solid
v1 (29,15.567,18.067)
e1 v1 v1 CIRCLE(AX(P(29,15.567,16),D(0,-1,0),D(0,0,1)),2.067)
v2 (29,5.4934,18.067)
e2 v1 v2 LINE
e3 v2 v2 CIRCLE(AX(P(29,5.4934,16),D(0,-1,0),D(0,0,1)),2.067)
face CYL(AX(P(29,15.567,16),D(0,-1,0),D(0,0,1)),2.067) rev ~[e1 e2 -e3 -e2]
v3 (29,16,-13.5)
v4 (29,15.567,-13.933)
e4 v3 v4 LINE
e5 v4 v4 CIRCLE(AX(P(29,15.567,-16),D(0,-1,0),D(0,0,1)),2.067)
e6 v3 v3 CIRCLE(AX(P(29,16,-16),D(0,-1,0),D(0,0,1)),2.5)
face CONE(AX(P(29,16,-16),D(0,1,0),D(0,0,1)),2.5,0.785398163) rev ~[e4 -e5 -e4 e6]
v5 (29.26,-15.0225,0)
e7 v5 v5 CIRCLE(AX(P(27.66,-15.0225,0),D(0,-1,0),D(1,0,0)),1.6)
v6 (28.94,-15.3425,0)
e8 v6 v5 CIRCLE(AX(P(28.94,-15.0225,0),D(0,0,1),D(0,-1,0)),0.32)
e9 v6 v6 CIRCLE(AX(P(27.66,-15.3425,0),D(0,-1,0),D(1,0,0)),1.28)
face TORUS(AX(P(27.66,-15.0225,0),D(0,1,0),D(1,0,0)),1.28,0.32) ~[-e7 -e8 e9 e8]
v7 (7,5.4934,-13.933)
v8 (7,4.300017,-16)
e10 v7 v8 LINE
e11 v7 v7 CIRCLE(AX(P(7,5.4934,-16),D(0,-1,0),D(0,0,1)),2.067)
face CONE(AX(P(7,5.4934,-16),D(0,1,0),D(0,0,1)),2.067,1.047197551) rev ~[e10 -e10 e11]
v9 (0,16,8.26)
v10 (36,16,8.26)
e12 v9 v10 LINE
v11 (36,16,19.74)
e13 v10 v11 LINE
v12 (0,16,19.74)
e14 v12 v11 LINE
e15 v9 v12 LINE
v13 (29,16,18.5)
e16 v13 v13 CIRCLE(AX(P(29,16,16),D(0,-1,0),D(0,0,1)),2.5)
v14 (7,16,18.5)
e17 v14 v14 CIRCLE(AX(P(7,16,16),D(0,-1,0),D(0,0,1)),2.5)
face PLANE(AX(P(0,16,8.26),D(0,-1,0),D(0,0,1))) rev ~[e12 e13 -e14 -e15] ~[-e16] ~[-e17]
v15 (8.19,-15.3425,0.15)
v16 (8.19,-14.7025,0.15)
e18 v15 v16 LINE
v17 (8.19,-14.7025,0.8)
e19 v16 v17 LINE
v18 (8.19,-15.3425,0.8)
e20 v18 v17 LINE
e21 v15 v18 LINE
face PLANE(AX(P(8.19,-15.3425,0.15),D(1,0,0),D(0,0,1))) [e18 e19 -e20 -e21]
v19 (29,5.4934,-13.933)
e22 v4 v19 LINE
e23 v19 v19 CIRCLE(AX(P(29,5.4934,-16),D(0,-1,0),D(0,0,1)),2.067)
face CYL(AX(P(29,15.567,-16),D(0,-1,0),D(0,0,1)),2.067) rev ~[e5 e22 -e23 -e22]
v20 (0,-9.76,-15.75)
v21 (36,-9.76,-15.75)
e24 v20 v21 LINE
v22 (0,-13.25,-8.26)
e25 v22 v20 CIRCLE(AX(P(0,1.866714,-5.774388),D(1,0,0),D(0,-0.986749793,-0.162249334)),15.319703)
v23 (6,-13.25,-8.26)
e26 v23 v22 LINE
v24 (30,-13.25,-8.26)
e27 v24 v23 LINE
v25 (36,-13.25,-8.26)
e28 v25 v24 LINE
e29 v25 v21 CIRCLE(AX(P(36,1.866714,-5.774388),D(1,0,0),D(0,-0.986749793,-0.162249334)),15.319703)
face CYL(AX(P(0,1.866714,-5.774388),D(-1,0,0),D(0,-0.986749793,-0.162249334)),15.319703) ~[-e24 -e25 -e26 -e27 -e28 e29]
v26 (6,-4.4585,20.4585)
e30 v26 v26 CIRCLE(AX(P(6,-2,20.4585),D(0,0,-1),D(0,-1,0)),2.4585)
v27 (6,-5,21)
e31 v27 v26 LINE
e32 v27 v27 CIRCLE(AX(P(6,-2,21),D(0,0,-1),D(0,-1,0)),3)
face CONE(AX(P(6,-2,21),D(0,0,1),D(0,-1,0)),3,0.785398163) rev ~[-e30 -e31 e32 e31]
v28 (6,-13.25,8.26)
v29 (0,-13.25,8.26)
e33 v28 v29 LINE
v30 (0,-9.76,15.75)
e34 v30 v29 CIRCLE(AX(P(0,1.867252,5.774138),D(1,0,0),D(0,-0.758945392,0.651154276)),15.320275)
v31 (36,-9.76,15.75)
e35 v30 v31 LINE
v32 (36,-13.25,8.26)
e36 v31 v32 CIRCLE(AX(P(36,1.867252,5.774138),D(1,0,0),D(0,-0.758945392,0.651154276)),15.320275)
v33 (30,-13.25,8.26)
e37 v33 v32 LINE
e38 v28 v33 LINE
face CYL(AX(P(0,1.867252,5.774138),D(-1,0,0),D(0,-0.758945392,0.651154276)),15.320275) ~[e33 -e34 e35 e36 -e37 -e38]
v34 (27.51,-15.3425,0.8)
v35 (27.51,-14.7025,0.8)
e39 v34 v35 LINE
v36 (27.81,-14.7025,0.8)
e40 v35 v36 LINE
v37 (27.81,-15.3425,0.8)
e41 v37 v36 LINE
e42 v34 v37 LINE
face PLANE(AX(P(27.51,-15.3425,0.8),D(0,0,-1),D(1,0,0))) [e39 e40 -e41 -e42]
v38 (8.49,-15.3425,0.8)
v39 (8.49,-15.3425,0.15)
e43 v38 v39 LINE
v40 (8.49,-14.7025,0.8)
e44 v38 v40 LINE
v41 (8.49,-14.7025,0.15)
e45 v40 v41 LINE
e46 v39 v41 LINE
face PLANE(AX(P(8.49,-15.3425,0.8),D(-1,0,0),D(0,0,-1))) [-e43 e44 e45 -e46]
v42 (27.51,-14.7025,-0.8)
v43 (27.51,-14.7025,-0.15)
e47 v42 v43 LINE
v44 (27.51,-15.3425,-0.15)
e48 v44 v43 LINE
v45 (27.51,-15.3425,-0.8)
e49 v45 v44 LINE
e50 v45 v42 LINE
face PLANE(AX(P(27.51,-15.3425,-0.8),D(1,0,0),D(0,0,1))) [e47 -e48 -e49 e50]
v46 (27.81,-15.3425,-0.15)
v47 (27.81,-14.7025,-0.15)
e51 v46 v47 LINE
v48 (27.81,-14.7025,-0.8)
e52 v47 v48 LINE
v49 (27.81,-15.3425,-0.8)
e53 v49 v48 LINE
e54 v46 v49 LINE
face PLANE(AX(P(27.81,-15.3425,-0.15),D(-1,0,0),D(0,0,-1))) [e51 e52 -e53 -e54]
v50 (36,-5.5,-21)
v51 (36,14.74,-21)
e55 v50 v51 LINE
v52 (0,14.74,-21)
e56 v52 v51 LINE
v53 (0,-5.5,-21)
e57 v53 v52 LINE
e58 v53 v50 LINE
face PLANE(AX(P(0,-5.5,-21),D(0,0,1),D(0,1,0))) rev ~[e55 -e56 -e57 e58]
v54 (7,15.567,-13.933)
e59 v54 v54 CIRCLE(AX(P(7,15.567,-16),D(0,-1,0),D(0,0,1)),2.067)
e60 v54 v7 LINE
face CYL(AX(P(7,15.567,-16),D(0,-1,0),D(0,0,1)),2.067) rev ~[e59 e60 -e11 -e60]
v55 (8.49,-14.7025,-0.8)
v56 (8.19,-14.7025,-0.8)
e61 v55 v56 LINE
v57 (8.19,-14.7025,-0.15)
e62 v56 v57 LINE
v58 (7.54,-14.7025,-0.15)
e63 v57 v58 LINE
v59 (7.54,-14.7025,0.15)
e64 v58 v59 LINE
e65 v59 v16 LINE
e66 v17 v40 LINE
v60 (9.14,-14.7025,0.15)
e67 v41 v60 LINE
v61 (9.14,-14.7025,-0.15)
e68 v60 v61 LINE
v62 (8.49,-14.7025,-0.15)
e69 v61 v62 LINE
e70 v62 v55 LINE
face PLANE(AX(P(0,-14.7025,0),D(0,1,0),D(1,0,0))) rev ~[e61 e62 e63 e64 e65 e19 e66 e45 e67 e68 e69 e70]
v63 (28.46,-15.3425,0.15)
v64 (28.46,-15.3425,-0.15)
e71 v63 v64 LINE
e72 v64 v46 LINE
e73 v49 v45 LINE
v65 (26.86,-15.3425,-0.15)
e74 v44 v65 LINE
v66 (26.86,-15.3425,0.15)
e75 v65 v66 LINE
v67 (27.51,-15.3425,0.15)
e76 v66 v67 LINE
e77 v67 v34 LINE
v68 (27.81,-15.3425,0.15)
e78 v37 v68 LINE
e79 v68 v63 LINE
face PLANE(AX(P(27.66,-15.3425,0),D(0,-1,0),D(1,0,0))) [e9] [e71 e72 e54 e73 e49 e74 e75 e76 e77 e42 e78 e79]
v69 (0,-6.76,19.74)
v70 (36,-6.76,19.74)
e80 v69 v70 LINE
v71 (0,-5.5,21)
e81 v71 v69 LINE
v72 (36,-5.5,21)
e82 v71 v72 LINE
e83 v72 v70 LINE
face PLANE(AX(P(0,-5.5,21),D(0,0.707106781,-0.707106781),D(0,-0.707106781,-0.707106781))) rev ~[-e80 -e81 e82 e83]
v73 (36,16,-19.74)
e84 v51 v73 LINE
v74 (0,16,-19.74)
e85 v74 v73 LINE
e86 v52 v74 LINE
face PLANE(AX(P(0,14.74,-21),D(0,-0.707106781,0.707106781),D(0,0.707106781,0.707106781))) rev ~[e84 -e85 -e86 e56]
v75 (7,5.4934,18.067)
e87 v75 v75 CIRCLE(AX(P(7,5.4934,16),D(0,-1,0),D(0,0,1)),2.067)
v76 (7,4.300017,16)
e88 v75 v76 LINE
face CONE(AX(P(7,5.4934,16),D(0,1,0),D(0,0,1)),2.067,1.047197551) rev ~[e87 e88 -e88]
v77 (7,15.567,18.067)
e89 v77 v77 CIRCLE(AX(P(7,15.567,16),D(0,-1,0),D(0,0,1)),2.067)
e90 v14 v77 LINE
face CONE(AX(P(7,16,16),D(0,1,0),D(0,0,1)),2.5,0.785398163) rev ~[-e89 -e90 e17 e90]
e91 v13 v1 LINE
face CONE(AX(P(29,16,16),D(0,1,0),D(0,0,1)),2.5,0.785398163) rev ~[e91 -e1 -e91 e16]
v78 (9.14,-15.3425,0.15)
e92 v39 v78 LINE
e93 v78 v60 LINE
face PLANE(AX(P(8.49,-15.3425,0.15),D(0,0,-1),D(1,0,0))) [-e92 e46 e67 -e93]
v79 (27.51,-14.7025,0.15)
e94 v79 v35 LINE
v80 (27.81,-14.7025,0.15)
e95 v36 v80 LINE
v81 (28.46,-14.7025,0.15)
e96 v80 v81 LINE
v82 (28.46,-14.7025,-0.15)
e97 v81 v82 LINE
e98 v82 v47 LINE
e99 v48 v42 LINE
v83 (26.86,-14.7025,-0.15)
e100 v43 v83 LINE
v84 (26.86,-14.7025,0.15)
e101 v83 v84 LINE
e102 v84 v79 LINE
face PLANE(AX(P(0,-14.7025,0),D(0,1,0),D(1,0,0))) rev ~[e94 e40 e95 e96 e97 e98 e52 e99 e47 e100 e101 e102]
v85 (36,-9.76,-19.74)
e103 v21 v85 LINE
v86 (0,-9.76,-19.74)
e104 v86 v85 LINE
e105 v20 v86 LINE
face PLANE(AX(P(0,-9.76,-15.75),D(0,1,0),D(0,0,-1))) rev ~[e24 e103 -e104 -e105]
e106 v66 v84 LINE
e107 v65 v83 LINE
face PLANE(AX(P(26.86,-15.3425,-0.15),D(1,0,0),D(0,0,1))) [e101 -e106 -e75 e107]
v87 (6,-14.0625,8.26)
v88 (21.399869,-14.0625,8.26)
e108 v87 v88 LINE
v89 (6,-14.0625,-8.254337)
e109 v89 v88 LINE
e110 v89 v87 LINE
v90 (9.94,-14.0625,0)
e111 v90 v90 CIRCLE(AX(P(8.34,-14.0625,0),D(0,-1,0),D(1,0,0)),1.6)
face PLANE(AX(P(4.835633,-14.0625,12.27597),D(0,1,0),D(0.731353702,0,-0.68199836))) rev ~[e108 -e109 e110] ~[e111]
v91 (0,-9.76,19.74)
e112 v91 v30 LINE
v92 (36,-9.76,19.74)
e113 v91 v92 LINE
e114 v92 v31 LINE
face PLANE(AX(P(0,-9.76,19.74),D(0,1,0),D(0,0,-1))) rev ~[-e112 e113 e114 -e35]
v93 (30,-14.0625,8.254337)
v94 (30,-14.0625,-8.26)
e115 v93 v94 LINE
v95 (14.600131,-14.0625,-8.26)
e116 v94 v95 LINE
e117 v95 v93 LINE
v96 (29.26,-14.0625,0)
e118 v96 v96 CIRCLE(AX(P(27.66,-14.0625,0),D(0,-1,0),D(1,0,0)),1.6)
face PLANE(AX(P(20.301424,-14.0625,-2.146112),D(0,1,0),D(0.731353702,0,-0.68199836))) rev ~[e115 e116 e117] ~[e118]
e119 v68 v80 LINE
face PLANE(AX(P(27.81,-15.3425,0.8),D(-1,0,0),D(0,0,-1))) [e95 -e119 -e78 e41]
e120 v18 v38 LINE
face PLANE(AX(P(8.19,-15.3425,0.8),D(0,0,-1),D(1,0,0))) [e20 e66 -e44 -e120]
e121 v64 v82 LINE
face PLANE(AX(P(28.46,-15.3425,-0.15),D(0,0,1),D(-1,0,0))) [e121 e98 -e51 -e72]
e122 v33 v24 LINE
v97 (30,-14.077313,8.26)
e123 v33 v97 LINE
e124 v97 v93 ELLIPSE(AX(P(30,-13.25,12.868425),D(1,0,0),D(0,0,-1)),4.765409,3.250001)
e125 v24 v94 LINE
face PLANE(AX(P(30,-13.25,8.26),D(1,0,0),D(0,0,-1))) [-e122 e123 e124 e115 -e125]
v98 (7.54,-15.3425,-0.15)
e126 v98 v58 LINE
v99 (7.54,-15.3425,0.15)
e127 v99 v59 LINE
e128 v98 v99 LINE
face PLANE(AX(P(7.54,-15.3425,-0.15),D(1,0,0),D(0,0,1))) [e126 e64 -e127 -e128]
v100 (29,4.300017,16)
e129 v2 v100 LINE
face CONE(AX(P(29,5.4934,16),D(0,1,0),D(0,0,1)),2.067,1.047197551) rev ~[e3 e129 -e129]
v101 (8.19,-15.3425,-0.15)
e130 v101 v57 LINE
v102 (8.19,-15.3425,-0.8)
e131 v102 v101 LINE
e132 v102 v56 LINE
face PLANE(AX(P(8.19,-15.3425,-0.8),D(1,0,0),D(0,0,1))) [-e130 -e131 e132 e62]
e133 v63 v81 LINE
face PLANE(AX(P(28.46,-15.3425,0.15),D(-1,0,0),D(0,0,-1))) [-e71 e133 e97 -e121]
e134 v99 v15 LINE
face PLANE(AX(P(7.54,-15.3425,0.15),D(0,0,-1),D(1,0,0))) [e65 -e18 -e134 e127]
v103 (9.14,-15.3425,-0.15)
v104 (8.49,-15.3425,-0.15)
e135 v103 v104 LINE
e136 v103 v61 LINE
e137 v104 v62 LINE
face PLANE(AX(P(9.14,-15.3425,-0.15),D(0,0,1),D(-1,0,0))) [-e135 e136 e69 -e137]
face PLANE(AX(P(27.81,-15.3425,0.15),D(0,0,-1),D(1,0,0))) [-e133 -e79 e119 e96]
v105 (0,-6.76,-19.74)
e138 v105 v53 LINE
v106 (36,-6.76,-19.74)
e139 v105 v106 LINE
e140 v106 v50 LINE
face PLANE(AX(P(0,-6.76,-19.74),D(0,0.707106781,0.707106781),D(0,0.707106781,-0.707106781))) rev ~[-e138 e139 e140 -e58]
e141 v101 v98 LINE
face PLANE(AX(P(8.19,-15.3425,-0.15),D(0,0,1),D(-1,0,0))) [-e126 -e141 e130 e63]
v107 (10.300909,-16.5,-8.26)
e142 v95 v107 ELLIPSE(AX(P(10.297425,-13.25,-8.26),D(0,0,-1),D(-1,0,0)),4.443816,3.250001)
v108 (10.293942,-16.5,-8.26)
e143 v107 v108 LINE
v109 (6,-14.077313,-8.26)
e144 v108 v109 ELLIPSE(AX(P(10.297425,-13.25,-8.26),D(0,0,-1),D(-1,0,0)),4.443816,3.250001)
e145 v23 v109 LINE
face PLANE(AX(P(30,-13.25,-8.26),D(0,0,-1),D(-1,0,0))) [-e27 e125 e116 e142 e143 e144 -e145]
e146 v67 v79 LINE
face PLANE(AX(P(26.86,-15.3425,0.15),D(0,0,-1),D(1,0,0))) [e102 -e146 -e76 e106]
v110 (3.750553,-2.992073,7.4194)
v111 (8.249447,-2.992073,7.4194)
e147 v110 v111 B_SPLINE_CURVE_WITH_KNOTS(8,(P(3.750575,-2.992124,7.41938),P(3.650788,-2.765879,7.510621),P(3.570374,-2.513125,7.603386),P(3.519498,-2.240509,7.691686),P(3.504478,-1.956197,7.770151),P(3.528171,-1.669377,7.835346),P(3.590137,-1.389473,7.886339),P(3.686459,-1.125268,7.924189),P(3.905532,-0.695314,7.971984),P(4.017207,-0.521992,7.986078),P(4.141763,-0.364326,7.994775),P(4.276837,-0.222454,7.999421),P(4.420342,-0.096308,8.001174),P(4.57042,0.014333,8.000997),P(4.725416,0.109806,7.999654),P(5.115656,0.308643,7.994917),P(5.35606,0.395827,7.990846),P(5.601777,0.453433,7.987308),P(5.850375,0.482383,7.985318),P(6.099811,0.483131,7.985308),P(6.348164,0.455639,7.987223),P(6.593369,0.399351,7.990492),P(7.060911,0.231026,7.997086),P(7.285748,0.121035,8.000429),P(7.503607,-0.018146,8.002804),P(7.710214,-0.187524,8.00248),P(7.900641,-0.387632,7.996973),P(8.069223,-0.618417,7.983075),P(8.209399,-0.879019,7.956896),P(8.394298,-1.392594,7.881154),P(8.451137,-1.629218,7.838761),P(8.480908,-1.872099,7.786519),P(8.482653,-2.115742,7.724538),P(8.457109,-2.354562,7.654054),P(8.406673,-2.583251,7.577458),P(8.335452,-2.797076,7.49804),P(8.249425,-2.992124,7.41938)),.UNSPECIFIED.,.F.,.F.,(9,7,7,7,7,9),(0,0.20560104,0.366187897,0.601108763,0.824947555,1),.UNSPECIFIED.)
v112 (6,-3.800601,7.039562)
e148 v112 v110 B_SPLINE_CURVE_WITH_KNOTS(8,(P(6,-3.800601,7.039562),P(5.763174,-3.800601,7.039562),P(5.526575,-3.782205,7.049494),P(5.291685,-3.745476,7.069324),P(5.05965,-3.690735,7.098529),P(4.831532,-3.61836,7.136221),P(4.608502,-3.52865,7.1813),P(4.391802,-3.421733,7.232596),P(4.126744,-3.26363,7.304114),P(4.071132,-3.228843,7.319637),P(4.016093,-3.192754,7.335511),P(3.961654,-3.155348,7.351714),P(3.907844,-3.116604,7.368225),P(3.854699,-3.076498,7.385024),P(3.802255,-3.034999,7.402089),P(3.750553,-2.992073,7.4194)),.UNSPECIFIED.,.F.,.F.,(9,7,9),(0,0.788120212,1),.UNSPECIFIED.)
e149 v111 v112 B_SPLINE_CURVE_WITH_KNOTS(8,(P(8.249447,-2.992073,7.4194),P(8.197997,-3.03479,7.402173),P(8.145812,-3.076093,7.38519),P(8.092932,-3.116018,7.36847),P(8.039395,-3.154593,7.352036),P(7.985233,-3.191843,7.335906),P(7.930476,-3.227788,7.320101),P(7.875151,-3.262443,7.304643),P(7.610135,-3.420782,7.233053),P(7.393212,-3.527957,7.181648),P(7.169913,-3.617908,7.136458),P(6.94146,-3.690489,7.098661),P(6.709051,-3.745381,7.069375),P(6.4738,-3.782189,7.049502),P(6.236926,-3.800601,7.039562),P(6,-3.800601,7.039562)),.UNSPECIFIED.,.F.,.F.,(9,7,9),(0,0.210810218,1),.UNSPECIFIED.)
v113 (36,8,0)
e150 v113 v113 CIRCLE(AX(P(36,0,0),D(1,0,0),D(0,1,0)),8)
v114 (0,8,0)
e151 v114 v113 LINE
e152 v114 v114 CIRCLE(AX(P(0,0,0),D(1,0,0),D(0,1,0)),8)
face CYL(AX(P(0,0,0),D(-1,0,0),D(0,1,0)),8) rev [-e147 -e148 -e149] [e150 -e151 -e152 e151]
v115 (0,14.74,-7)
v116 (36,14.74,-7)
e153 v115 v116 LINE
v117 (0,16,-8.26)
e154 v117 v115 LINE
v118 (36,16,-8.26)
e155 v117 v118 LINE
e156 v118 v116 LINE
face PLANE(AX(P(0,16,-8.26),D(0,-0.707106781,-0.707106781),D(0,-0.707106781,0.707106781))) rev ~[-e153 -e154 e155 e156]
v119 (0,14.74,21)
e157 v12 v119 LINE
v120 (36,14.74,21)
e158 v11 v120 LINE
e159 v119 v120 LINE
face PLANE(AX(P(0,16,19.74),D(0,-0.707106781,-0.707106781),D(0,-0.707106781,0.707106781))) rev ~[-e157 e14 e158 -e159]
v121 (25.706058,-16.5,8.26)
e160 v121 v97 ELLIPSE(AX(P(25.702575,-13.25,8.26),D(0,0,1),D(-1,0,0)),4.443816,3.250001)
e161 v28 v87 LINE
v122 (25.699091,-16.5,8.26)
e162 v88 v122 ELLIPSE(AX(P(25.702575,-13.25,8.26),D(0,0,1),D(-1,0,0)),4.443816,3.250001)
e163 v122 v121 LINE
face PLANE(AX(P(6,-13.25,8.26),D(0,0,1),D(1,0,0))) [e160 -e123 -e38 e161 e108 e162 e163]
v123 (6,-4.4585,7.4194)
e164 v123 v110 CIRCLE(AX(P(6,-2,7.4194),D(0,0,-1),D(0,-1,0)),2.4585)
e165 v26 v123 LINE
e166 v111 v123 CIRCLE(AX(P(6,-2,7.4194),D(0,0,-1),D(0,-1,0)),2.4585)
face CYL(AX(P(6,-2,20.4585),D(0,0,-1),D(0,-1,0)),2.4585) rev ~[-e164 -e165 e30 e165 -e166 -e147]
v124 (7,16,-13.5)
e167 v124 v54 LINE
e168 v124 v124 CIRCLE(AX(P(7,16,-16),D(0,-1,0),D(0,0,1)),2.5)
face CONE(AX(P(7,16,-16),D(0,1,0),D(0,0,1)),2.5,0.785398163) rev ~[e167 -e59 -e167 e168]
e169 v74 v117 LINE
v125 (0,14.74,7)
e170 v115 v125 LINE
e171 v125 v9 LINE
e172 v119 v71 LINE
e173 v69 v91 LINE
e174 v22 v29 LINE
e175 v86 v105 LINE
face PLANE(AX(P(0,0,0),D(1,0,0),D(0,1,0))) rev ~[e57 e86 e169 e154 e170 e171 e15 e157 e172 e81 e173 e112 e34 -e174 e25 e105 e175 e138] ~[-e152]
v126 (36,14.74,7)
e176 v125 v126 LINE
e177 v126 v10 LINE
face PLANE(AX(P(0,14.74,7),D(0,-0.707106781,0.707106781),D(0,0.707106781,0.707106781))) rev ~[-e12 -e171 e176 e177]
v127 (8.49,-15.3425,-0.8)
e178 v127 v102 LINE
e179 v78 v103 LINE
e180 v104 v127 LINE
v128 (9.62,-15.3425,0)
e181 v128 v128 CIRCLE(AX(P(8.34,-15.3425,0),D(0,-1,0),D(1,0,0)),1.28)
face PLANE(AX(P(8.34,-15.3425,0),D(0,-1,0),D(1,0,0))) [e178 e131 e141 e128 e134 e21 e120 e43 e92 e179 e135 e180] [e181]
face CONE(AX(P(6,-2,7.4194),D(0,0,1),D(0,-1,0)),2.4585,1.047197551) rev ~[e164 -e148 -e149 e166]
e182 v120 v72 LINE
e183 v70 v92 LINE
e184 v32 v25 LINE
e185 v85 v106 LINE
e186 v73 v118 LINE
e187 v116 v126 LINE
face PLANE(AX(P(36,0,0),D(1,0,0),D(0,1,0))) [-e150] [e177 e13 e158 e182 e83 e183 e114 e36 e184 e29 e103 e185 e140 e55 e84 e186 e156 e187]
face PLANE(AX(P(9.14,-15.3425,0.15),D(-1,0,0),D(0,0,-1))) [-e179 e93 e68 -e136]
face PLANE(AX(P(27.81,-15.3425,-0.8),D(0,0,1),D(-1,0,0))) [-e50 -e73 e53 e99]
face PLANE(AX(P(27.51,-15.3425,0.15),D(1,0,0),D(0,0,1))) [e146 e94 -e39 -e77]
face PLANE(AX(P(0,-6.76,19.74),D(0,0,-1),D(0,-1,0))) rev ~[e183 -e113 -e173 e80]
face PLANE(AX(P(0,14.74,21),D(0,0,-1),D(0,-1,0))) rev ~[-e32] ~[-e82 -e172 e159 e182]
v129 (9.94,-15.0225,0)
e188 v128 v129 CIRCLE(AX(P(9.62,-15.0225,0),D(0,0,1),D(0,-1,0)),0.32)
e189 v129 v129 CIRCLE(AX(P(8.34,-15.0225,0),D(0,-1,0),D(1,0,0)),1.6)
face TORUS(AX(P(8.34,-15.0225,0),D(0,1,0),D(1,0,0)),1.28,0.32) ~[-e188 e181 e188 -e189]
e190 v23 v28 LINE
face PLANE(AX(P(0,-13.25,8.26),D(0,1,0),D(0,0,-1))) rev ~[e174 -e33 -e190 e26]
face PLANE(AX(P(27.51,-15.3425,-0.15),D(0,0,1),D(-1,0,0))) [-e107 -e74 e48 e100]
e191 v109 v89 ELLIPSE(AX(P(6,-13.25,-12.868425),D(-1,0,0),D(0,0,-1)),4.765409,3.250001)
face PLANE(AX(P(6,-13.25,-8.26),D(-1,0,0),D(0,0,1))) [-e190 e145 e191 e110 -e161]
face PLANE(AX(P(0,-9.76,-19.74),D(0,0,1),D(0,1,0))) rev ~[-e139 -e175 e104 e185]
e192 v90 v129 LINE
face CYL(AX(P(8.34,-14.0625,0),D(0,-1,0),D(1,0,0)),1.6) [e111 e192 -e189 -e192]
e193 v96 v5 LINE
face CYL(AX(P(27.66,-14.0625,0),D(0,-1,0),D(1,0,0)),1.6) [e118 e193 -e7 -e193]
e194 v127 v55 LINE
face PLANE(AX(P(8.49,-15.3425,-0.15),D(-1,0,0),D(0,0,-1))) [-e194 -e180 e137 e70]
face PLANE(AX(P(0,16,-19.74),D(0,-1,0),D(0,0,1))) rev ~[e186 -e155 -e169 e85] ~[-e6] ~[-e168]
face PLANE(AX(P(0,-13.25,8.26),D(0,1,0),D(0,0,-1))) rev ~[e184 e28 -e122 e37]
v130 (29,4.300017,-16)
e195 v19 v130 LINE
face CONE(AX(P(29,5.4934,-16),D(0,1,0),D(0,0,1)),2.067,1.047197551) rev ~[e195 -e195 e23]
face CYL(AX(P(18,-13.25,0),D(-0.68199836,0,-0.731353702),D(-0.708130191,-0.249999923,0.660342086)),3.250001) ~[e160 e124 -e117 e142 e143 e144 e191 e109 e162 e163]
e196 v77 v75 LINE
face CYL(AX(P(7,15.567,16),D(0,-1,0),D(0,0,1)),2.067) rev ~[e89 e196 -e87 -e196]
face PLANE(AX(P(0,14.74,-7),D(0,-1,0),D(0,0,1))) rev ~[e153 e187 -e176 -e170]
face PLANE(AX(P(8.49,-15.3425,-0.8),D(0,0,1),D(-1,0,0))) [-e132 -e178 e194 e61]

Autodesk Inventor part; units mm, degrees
sketch "Sketch_1" plane through (0, 0, 0) normal (1, 0, 0) x (0, 1, 0)
  line L0 (14.74, 21) -> (-5.5, 21)
  line L1 (-5.5, 21) -> (-6.76, 19.74)
  line L2 (-6.76, 19.74) -> (-9.76, 19.74)
  line L3 (-9.76, 19.74) -> (-9.76, 15.75)
  arc A0 (-9.76, 15.75) -> (-13.25, 8.26) centre (1.867, 5.7743) ccw
  line L4 (-13.25, 8.26) -> (-13.25, -8.26)
  arc A1 (-13.25, -8.26) -> (-9.76, -15.75) centre (1.867, -5.7743) ccw
  line L5 (-9.76, -15.75) -> (-9.76, -19.74)
  line L6 (-9.76, -19.74) -> (-6.76, -19.74)
  line L7 (-6.76, -19.74) -> (-5.5, -21)
  line L8 (-5.5, -21) -> (14.74, -21)
  line L9 (14.74, -21) -> (16, -19.74)
  line L10 (16, -19.74) -> (16, -8.26)
  line L11 (16, -8.26) -> (14.74, -7)
  line L12 (14.74, -7) -> (14.74, 7)
  line L13 (14.74, 7) -> (16, 8.26)
  line L14 (16, 8.26) -> (16, 19.74)
  line L15 (16, 19.74) -> (14.74, 21)
  circle A2 centre (0, 0) radius 8
extrude "Extrusion1" add sketch "Sketch_1" along normal blind 36
sketch "Sketch_2" plane through (18, 0, 0) normal (0.682, 0, 0.7314) x (0.7314, 0, -0.682)
  line L0 (-18, -14.0625) -> (-3.1468, -14.0625)
  arc A0 (-3.1468, -14.0625) -> (3.1468, -14.0625) centre (0, -13.25) ccw
  line L1 (3.1468, -14.0625) -> (18, -14.0625)
  line L2 (18, -14.0625) -> (18, -13.25)
  line L3 (18, -13.25) -> (-18, -13.25)
  line L4 (-18, -13.25) -> (-18, -14.0625)
extrude "Extrusion2" add sketch "Sketch_2" along normal mid plane 36
sketch "Sketch_3" plane through (0, -13.25, 0) normal (0, 1, 0) x (1, 0, 0)
  line L0 (-18, -36) -> (54, -36)
  line L1 (54, -36) -> (54, 36)
  line L2 (54, 36) -> (-18, 36)
  line L3 (-18, 36) -> (-18, -36)
  line L4 (6, -8.26) -> (30, -8.26)
  line L5 (30, -8.26) -> (30, 8.26)
  line L6 (30, 8.26) -> (6, 8.26)
  line L7 (6, 8.26) -> (6, -8.26)
extrude "Extrusion3" cut sketch "Sketch_3" against normal blind 3.25
sketch "Sketch_4" plane through (0, 0, 0) normal (0, 0, 1) x (1, 0, 0)
  line L0 (8.34, -15.3425) -> (8.34, -14.0625)
  line L1 (8.34, -14.0625) -> (9.94, -14.0625)
  line L2 (9.94, -14.0625) -> (9.94, -15.0225)
  arc A0 (9.62, -15.3425) -> (9.94, -15.0225) centre (9.62, -15.0225) ccw
  line L3 (9.62, -15.3425) -> (8.34, -15.3425)
  line L4 (8.34, -15.3425) -> (8.34, -14.0625)
revolve "Revolution1" add sketch "Sketch_4" angle 360 about axis through (8.34, -15.3425, 0) along (0, -1, 0)
sketch "Sketch_5" plane through (0, 0, 0) normal (0, 0, 1) x (1, 0, 0)
  line L0 (27.66, -15.3425) -> (27.66, -14.0625)
  line L1 (27.66, -14.0625) -> (29.26, -14.0625)
  line L2 (29.26, -14.0625) -> (29.26, -15.0225)
  arc A0 (28.94, -15.3425) -> (29.26, -15.0225) centre (28.94, -15.0225) ccw
  line L3 (28.94, -15.3425) -> (27.66, -15.3425)
  line L4 (27.66, -15.3425) -> (27.66, -14.0625)
revolve "Revolution2" add sketch "Sketch_5" angle 360 about axis through (27.66, -15.3425, 0) along (0, -1, 0)
sketch "Sketch_6" plane through (0, -15.3425, 0) normal (0, 1, 0) x (1, 0, 0)
  line L0 (26.86, 0.15) -> (26.86, -0.15)
  line L1 (26.86, -0.15) -> (27.51, -0.15)
  line L2 (27.51, -0.15) -> (27.51, -0.8)
  line L3 (27.51, -0.8) -> (27.81, -0.8)
  line L4 (27.81, -0.8) -> (27.81, -0.15)
  line L5 (27.81, -0.15) -> (28.46, -0.15)
  line L6 (28.46, -0.15) -> (28.46, 0.15)
  line L7 (28.46, 0.15) -> (27.81, 0.15)
  line L8 (27.81, 0.15) -> (27.81, 0.8)
  line L9 (27.81, 0.8) -> (27.51, 0.8)
  line L10 (27.51, 0.8) -> (27.51, 0.15)
  line L11 (27.51, 0.15) -> (26.86, 0.15)
extrude "Extrusion4" cut sketch "Sketch_6" along normal blind 0.64
sketch "Sketch_7" plane through (0, -15.3425, 0) normal (0, 1, 0) x (1, 0, 0)
  line L0 (7.54, 0.15) -> (7.54, -0.15)
  line L1 (7.54, -0.15) -> (8.19, -0.15)
  line L2 (8.19, -0.15) -> (8.19, -0.8)
  line L3 (8.19, -0.8) -> (8.49, -0.8)
  line L4 (8.49, -0.8) -> (8.49, -0.15)
  line L5 (8.49, -0.15) -> (9.14, -0.15)
  line L6 (9.14, -0.15) -> (9.14, 0.15)
  line L7 (9.14, 0.15) -> (8.49, 0.15)
  line L8 (8.49, 0.15) -> (8.49, 0.8)
  line L9 (8.49, 0.8) -> (8.19, 0.8)
  line L10 (8.19, 0.8) -> (8.19, 0.15)
  line L11 (8.19, 0.15) -> (7.54, 0.15)
extrude "Extrusion5" cut sketch "Sketch_7" along normal blind 0.64
sketch "Sketch8" plane through (0, -5.5, 21) normal (0, 0, 1) x (1, 0, 0)
  point P0 (6, 3.5)
hole "Hole1" at (6, -2, 21) direction (0, 0, -1) diameter 4.917 depth 13.5806 tip angle 120 countersink diameter 6 countersink angle 90 thread size "M6x1" class "6H" standard "ISO Metric profile"
sketch "Sketch9" plane through (0, 16, -8.26) normal (0, 1, 0) x (1, 0, 0)
  point P0 (7, 7.74)
hole "Hole2" at (7, 16, -16) direction (0, -1, 0) diameter 4.134 depth 10.5066 tip angle 120 countersink diameter 5 countersink angle 90 thread size "M5x0.8" class "6H" standard "ISO Metric profile"
pattern_linear "Rectangular Pattern1" count 2 spacing 22 along (1, 0, 0) count 2 spacing 32 along (0, 0, 1) of "Hole2"
ref_plane "bnt_nut_1_XY" through (0, 0, 0) normal (1, 0, 0) x (0, 0, -1)
ref_plane "bnt_nut_1_YZ" through (0, 0, 0) normal (0, 0, -1) x (0, 1, 0)
ref_plane "bnt_nut_1_ZX" through (0, 0, 0) normal (0, 1, 0) x (1, 0, 0)
thread "Thread1" size "M16x2" class "6H" standard "ISO Metric profile" full length
properties part number "BNT 1605-2.6 Nut"
